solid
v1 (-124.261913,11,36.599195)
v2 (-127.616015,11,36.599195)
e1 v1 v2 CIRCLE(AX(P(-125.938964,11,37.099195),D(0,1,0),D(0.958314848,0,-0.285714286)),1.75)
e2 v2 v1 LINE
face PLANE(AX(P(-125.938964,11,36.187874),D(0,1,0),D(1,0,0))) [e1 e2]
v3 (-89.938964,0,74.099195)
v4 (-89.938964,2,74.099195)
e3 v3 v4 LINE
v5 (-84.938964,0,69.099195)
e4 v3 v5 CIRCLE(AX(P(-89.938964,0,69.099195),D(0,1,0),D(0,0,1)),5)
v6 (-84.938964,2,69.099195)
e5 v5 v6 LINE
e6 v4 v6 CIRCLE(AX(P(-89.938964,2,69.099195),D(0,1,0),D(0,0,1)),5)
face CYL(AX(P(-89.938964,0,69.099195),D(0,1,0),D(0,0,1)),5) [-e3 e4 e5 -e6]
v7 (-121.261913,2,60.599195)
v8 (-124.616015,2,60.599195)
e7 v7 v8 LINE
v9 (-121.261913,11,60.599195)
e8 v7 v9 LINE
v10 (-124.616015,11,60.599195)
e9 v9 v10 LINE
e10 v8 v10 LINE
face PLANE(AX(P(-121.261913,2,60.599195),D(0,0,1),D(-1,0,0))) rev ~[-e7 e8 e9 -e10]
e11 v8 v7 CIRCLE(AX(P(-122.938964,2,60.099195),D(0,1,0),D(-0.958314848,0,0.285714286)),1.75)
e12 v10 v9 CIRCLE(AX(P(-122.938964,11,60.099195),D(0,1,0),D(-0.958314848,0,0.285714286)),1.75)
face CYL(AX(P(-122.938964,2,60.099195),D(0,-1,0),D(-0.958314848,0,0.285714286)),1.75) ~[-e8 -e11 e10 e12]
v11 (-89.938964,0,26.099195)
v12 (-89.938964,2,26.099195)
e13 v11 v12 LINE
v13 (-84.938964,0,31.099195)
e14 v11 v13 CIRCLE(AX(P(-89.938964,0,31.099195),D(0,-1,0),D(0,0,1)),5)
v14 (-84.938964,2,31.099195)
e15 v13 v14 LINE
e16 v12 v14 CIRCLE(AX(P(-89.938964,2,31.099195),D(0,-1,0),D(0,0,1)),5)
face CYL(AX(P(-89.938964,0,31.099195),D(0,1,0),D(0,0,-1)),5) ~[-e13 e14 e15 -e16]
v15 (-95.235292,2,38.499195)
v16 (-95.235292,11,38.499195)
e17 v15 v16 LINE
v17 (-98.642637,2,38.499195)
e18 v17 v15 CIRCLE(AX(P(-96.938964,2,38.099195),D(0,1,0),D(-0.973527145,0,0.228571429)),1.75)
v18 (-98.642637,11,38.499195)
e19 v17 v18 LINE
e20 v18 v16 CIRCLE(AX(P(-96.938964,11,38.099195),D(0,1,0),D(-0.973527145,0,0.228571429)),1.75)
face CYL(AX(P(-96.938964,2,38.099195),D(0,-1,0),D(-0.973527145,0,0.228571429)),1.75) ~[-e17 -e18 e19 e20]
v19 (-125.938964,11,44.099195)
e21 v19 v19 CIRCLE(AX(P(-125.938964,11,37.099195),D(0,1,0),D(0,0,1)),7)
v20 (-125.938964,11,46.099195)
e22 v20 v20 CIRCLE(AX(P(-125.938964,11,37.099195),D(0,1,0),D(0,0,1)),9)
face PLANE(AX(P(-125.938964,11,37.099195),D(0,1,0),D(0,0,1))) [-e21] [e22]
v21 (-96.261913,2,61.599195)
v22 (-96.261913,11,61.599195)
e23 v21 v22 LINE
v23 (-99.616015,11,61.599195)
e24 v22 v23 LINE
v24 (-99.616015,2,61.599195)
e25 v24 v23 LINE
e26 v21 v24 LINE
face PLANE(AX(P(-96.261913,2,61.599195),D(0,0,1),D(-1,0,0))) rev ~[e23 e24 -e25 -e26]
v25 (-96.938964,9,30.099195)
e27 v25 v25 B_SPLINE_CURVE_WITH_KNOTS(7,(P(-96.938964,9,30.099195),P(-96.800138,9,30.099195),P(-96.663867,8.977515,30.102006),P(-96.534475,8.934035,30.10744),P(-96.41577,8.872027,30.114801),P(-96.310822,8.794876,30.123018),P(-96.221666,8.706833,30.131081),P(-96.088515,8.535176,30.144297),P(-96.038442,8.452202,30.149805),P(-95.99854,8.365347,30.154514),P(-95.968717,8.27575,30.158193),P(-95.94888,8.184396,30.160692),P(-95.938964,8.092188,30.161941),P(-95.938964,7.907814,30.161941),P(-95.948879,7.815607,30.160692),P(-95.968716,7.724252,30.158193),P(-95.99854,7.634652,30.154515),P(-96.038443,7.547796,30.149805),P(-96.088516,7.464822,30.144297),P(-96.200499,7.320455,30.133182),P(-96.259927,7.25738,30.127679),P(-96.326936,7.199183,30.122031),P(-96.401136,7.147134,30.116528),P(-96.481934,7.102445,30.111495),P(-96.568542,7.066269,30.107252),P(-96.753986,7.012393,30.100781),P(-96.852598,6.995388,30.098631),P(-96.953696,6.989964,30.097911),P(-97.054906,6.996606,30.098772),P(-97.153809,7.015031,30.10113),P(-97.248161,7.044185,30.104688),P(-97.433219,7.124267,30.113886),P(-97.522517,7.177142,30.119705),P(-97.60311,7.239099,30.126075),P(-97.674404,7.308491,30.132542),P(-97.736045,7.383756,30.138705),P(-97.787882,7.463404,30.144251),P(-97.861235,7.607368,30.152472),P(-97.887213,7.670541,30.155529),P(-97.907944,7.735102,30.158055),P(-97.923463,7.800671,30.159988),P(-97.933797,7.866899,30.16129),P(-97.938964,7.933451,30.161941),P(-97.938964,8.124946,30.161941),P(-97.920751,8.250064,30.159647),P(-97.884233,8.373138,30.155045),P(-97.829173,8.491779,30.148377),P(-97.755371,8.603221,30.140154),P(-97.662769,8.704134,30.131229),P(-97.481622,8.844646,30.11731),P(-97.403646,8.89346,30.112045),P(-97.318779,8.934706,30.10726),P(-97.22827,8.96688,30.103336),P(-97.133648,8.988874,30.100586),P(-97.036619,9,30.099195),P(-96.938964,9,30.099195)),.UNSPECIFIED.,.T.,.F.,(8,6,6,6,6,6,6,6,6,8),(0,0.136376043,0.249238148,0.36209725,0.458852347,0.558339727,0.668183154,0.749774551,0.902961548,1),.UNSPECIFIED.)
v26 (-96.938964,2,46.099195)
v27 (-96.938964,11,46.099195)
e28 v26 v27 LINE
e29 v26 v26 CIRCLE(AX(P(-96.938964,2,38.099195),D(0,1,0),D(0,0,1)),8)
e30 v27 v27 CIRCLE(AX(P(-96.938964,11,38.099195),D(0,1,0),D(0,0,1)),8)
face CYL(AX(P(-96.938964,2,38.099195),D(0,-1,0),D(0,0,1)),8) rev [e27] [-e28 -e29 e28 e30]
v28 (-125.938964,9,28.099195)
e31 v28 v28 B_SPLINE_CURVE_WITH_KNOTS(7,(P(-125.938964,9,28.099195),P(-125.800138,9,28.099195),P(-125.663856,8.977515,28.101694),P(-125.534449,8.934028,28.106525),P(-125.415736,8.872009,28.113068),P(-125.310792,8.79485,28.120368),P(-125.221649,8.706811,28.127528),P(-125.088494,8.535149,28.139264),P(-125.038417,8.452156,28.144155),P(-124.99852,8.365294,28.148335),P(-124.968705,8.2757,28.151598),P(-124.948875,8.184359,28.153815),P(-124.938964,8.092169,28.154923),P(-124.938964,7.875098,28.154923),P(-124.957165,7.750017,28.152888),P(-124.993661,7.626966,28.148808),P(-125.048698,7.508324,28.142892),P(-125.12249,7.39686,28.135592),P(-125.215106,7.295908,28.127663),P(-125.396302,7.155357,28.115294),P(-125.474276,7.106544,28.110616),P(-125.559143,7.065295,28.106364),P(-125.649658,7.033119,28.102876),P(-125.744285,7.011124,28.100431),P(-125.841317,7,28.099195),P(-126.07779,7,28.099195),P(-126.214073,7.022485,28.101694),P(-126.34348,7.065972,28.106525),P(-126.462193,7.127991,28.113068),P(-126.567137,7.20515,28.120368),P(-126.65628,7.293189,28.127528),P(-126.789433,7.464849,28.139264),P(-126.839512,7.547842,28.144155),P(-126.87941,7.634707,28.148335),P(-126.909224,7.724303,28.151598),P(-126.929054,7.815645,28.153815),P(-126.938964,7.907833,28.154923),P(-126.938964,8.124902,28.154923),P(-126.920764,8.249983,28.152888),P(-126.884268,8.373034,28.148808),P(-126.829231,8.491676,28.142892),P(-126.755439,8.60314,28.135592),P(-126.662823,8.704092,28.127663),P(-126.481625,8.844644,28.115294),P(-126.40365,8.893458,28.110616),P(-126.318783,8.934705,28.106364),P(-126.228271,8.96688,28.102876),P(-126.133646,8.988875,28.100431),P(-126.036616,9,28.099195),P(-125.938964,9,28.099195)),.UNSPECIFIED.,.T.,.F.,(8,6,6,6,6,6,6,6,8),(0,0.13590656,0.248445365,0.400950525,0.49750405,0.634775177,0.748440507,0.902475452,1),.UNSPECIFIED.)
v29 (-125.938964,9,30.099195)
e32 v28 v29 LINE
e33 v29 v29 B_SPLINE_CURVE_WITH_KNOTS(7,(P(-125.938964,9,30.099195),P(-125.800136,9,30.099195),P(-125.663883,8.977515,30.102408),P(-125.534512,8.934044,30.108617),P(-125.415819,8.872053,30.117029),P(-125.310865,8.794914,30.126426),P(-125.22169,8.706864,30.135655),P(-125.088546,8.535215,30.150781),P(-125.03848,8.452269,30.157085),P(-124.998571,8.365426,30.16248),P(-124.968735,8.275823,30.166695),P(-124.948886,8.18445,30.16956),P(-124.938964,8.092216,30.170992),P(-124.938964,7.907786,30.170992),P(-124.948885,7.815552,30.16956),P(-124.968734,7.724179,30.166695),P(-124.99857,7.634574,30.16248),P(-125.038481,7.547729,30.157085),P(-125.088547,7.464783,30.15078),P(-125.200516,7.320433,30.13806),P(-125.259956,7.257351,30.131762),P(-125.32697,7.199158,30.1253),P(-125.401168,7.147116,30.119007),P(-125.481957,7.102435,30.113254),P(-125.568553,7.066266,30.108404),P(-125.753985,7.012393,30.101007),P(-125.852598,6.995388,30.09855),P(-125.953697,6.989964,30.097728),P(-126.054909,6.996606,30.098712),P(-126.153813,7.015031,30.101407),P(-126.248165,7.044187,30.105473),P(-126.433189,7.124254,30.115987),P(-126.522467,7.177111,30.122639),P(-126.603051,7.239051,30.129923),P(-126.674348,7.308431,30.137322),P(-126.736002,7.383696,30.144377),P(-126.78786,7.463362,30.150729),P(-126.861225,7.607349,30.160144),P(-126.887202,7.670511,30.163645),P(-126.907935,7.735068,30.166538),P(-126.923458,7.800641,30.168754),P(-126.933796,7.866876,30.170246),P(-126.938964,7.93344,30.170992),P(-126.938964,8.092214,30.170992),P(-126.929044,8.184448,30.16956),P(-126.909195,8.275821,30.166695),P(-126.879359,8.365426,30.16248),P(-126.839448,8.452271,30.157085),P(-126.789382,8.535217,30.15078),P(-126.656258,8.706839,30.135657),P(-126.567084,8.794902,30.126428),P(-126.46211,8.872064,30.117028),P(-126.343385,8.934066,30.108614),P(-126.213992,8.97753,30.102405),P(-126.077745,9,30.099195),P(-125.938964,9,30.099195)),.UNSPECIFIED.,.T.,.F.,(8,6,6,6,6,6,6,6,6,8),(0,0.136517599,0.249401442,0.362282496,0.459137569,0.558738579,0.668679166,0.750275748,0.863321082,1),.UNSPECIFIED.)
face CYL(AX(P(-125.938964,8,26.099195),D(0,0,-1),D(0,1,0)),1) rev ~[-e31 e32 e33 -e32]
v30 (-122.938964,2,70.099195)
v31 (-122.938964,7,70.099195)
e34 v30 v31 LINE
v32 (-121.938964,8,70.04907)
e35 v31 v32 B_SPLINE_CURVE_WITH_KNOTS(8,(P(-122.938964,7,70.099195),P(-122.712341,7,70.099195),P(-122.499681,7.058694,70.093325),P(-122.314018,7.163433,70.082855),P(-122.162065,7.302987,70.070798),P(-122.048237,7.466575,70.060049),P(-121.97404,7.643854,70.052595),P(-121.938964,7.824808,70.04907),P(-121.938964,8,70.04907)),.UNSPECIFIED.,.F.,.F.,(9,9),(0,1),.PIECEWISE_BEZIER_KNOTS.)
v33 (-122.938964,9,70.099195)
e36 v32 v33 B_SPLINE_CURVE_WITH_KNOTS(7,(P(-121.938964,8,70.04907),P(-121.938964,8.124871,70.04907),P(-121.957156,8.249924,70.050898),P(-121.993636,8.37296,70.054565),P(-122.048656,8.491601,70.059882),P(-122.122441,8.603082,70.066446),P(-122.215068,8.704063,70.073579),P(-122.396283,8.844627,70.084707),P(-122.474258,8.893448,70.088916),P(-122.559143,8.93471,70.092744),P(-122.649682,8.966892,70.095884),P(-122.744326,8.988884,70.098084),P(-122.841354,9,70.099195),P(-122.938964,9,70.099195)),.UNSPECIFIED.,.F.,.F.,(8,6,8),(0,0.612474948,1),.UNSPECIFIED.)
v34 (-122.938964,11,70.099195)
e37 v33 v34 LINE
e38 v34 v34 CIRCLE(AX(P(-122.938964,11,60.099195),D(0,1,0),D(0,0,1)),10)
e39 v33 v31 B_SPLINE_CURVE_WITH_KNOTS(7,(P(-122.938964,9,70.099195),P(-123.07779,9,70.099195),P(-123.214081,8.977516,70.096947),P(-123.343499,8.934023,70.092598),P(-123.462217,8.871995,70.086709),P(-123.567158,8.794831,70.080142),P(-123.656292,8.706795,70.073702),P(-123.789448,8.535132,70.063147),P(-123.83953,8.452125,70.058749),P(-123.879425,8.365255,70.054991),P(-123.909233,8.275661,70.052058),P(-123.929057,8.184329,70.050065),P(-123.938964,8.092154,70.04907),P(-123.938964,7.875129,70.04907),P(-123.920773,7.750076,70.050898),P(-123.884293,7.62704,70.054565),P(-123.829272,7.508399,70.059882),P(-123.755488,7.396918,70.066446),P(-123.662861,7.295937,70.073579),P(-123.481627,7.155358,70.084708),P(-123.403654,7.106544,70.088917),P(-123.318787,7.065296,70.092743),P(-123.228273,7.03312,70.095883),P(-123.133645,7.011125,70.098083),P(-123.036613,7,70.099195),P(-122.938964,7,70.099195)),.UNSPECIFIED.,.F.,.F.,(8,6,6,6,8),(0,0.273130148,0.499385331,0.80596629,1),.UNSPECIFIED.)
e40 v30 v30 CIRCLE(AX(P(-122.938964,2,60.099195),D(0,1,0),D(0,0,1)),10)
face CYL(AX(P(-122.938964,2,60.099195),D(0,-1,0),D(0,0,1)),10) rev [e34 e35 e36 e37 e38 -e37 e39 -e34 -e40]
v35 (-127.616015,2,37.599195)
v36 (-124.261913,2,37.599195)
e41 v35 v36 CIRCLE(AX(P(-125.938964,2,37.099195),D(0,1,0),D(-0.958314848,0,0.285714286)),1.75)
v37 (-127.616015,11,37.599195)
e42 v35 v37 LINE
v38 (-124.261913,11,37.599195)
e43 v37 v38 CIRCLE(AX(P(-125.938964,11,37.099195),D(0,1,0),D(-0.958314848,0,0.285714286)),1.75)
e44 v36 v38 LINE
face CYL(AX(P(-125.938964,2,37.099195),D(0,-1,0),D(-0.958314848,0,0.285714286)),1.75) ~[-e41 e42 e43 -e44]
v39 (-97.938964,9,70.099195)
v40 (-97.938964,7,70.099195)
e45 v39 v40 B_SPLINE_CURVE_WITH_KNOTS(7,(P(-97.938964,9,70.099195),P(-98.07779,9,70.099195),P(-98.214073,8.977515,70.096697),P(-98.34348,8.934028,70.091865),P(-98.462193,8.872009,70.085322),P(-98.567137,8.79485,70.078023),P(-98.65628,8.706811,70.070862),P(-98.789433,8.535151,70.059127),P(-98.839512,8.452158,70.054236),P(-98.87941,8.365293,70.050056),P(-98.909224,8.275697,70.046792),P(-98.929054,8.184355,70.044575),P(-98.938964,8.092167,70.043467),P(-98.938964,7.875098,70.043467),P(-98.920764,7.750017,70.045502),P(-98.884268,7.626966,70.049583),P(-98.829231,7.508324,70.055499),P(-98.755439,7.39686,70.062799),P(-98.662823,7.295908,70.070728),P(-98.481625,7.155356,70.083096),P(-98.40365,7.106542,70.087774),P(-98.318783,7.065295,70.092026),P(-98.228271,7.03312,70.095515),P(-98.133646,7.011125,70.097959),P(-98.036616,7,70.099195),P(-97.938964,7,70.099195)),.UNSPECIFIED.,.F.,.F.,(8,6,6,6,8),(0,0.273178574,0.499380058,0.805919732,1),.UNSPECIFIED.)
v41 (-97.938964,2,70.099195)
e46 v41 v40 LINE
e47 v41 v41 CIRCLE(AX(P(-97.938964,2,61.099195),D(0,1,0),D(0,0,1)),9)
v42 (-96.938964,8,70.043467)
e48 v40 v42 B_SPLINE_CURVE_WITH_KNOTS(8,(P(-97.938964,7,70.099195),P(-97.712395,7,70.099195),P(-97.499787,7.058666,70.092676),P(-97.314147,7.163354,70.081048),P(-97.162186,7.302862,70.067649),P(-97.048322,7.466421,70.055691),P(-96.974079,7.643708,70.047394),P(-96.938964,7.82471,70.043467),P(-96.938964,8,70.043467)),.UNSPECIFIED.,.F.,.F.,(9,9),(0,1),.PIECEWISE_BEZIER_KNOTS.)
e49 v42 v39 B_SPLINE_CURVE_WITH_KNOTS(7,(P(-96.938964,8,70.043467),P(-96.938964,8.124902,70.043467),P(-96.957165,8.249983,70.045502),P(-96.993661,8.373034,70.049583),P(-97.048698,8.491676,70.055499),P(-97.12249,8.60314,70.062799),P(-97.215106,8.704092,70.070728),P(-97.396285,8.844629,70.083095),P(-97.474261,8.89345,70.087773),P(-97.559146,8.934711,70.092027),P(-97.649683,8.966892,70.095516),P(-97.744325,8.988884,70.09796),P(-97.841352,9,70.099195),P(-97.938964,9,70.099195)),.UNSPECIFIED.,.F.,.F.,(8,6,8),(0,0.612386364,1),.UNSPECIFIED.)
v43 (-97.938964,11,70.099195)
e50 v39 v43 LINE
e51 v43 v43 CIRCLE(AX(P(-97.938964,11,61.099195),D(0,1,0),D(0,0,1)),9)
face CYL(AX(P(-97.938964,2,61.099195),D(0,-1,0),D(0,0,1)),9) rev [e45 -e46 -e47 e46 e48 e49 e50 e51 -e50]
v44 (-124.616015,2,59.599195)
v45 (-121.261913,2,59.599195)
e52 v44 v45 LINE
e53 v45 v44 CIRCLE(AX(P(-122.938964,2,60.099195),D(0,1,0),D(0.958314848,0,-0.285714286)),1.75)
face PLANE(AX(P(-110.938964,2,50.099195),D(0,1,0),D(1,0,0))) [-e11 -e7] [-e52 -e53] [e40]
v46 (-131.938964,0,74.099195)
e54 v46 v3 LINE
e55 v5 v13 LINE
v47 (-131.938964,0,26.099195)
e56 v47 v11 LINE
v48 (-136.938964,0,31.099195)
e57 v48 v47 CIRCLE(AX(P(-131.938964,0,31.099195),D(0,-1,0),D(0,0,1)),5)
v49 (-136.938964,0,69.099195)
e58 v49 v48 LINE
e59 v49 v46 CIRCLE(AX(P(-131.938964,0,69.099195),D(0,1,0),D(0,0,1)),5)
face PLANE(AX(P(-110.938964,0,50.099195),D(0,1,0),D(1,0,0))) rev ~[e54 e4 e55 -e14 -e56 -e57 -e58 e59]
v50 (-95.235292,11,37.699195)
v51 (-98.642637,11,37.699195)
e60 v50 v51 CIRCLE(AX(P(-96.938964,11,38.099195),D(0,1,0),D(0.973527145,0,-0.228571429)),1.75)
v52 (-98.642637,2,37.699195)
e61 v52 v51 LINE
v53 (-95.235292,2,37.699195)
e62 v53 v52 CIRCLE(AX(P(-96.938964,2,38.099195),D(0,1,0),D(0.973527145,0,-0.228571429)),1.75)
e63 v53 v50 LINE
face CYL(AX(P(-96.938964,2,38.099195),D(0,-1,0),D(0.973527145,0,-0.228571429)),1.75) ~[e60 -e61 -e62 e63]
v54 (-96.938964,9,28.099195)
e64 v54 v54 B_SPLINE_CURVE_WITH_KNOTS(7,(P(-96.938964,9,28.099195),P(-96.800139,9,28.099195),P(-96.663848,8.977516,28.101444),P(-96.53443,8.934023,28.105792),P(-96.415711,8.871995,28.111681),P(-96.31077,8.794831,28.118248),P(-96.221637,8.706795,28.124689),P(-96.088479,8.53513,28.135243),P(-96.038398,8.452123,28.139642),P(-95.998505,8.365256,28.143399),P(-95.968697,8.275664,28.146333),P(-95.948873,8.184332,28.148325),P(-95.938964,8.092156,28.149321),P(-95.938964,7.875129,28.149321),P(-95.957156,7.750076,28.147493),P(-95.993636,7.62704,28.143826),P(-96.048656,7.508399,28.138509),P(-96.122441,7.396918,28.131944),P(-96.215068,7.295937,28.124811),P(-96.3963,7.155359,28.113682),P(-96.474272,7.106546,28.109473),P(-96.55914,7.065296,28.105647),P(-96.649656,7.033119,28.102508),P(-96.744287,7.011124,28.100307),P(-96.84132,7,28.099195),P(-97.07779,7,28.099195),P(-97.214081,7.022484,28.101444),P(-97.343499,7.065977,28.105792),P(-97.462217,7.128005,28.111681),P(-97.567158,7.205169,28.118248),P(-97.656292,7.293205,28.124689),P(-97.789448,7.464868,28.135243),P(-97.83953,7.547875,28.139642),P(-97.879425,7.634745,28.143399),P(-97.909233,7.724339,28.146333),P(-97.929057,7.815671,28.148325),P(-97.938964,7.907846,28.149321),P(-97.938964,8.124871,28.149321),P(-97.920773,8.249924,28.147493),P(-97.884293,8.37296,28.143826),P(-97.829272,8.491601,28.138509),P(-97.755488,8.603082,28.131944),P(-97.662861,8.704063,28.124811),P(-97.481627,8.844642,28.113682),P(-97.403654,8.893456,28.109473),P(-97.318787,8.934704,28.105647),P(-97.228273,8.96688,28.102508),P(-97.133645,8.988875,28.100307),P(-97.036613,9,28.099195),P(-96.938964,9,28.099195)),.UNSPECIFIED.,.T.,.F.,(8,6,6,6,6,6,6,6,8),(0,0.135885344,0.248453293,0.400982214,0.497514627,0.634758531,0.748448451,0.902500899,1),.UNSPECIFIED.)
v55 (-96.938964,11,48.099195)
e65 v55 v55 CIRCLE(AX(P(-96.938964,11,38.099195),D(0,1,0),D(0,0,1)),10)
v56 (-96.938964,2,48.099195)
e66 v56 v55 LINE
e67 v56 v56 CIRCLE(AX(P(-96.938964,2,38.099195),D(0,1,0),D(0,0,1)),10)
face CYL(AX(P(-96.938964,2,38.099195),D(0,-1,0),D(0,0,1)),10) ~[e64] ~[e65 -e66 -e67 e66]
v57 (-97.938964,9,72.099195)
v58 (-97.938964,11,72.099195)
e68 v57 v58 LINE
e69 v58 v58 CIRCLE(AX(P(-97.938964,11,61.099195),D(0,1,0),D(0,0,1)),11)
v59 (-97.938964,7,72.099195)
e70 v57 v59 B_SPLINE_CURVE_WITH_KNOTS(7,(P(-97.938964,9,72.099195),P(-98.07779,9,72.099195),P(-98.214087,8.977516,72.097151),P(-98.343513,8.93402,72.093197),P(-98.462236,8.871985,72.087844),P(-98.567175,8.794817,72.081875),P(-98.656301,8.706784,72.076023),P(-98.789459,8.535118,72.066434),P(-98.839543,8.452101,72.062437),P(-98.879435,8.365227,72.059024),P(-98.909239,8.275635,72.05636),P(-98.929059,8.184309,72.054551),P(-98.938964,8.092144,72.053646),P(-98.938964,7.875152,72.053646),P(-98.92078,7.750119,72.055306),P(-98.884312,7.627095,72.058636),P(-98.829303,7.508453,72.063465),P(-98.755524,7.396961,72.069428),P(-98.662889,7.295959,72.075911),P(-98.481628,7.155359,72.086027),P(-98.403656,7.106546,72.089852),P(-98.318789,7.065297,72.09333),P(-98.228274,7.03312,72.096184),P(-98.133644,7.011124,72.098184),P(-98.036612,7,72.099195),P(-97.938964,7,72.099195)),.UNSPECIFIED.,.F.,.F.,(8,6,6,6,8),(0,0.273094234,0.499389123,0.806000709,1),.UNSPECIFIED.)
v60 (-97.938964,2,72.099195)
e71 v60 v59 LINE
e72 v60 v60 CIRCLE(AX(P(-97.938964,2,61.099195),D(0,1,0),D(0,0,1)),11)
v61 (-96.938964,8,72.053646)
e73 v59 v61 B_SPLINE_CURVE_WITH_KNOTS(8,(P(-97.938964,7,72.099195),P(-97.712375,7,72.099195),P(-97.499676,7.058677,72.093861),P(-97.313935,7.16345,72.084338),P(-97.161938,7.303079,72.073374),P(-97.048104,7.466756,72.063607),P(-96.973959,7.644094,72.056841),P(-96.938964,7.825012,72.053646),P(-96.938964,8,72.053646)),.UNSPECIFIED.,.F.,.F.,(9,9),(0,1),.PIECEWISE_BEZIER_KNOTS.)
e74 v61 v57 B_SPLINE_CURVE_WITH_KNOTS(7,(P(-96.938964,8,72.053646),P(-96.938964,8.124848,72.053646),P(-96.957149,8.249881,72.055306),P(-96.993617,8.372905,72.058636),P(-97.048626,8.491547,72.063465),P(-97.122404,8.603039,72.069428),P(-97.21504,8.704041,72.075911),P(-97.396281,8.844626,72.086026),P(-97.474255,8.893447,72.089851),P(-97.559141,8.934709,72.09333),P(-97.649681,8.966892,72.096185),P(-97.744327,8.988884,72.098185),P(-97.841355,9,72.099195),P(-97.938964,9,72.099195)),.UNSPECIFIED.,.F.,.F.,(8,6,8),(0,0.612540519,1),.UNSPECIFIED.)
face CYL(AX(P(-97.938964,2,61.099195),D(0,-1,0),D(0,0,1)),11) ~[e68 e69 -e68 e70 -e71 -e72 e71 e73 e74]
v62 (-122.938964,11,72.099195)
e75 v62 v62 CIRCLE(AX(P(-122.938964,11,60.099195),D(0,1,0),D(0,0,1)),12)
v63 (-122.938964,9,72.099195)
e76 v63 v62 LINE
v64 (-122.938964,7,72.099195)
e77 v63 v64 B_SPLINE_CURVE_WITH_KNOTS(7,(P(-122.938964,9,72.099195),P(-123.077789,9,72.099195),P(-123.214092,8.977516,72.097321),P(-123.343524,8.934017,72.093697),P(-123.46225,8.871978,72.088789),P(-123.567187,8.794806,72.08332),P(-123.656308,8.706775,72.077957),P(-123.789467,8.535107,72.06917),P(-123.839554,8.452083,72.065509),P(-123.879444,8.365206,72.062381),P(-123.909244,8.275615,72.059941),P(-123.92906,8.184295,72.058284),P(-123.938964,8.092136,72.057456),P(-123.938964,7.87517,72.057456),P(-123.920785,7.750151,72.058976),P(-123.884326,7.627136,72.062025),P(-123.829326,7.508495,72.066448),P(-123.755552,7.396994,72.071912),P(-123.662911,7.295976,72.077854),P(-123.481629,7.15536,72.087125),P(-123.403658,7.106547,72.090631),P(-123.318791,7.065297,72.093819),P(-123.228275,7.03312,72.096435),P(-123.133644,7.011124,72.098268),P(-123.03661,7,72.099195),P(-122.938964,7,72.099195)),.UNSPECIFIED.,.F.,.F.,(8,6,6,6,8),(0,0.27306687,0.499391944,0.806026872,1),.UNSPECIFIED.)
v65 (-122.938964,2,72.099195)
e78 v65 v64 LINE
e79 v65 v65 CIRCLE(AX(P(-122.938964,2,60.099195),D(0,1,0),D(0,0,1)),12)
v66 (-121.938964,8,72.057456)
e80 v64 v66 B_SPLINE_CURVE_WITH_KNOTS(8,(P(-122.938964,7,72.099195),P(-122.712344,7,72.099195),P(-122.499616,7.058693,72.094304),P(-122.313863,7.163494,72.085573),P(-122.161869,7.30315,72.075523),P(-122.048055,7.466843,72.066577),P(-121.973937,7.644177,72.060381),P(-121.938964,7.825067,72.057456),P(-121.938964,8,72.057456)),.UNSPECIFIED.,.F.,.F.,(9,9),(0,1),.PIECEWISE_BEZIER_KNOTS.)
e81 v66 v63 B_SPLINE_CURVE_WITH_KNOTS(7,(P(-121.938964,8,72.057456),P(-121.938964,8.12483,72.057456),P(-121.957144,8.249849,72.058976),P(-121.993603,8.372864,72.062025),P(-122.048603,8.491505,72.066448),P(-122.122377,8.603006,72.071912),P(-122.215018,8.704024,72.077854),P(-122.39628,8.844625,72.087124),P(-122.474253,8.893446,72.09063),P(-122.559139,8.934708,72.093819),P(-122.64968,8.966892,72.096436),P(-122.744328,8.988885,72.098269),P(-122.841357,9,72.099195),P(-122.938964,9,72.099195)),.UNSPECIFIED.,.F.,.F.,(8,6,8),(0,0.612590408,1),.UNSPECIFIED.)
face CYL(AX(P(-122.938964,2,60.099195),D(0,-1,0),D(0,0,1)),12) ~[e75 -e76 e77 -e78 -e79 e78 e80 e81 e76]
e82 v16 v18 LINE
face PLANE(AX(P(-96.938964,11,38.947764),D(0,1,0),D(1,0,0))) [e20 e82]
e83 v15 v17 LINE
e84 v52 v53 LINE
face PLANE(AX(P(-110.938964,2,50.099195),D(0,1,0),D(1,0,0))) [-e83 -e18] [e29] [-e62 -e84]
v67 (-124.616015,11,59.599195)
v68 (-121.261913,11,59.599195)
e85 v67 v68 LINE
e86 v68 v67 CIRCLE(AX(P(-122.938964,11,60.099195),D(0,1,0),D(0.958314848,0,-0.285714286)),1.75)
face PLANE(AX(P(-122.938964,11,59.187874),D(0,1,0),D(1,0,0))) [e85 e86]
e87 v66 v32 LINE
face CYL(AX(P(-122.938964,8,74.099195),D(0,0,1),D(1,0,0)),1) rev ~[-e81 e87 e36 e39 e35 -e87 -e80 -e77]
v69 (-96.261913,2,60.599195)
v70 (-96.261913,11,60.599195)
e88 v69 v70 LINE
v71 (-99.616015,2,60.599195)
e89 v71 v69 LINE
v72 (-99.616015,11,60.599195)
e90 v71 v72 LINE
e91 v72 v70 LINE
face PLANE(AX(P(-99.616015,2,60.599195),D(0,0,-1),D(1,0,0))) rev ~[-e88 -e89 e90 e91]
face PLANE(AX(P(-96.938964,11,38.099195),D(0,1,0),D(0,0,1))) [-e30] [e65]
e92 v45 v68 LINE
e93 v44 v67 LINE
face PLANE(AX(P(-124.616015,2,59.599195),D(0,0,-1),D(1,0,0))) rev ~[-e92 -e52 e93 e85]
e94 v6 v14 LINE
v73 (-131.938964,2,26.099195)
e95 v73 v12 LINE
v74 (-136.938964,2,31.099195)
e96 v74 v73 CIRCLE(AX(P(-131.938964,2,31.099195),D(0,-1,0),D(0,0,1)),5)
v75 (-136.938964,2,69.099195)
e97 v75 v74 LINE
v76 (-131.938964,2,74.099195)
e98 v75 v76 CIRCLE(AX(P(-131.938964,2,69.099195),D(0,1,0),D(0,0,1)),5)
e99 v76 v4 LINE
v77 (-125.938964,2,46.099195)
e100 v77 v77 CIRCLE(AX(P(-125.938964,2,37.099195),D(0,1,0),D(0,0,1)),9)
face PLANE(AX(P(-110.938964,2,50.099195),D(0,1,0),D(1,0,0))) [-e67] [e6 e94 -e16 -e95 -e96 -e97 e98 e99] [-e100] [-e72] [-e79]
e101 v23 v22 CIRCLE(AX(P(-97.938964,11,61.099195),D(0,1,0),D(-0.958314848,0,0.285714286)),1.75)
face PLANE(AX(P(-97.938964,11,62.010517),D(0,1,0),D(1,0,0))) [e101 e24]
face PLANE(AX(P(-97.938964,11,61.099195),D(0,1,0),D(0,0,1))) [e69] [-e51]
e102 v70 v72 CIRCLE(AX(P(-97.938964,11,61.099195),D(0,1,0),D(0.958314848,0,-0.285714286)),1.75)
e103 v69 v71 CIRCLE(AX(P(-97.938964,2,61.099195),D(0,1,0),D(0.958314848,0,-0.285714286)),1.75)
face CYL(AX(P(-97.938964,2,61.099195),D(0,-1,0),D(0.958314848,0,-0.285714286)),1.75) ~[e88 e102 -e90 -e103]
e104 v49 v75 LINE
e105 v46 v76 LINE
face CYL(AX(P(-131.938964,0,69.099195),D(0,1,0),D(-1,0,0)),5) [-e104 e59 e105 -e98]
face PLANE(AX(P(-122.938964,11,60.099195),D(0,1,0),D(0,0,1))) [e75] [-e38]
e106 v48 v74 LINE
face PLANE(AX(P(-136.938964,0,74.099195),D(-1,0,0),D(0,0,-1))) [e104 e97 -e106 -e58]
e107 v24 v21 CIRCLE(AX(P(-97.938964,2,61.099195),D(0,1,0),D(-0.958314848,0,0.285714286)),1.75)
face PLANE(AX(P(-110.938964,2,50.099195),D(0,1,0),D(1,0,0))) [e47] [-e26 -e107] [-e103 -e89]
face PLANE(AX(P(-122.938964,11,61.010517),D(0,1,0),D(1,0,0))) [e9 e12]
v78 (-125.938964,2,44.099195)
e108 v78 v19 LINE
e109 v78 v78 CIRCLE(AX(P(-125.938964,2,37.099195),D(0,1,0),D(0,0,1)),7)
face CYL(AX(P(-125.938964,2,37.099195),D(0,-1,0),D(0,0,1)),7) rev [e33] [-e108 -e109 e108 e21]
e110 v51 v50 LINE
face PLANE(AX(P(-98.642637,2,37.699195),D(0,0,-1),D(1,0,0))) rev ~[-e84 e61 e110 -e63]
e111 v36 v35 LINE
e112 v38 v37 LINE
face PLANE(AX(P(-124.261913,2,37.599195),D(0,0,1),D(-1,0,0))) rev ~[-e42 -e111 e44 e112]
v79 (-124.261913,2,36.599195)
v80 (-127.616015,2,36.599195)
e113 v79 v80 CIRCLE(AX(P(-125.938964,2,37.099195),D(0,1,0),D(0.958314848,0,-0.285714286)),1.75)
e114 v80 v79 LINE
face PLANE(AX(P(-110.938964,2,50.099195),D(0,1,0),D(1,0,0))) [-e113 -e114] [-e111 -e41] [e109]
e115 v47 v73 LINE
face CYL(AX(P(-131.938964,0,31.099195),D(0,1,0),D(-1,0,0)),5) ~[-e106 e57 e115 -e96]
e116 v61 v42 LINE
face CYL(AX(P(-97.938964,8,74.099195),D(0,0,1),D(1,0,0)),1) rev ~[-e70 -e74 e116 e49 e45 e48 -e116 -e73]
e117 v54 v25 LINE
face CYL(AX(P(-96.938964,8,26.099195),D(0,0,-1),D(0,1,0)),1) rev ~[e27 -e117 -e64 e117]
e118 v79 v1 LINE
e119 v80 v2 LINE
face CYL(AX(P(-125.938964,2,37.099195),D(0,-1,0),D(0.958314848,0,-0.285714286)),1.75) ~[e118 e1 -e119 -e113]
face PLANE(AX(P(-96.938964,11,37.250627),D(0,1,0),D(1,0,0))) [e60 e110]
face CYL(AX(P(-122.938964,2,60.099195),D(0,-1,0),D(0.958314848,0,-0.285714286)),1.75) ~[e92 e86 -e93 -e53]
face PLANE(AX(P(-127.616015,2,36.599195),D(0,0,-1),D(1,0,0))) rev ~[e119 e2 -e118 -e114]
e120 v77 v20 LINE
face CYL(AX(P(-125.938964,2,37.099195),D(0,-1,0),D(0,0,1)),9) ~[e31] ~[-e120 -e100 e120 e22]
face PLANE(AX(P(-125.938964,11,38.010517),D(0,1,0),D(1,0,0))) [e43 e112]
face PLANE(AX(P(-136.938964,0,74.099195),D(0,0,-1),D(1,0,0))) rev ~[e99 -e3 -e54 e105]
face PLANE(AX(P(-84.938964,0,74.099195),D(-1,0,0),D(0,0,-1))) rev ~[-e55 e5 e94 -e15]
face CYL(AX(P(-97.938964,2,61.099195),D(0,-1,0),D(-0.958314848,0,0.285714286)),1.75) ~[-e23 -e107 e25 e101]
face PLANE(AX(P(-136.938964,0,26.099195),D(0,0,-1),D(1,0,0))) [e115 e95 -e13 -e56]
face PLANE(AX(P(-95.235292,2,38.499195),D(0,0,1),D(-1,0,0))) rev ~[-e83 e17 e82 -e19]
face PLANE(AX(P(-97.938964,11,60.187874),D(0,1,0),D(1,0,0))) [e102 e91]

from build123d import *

# Parameters (mm, degrees)
SKETCH1_W           = 52
SKETCH1_H           = 48
BOSS_EXTRUDE3_DEPTH = 2
SKETCH4_R           = 9
SKETCH4_R_2         = 7
SKETCH4_R_3         = 10
SKETCH4_R_4         = 8
SKETCH4_R_5         = 11
SKETCH4_R_6         = 12
BOSS_EXTRUDE4_DEPTH = 9
BOSS_EXTRUDE5_DEPTH = 9
SKETCH6_R           = 1
CUT_EXTRUDE2_DEPTH  = 6
SKETCH7_R           = 1
CUT_EXTRUDE3_DEPTH  = 6
FILLET1_R           = 5


with BuildPart() as part:
    # Sketch1 → Boss-Extrude3 (new body)
    with BuildSketch(Plane(origin=(0, 0, 0), x_dir=(1, 0, 0), z_dir=(0, 1, 0))):
        with Locations((-110.938964427, -50.099195195)):
            Rectangle(SKETCH1_W, SKETCH1_H)
    extrude(amount=BOSS_EXTRUDE3_DEPTH)

    # Sketch4 → Boss-Extrude4 (add)
    # profile 1 of 4: a face of its own
    with BuildSketch(Plane(origin=(0, 2, 0), x_dir=(1, 0, 0), z_dir=(0, 1, 0))):
        with Locations(Location((-125.938964427, -37.099195195, 0), (0, 0, 270))):
            Circle(SKETCH4_R)
        with Locations(Location((-125.938964427, -37.099195195, 0), (0, 0, 270))):
            Circle(SKETCH4_R_2, mode=Mode.SUBTRACT)
    # profile 2 of 4: a face of its own
    with BuildSketch(Plane(origin=(0, 2, 0), x_dir=(1, 0, 0), z_dir=(0, 1, 0))):
        with Locations(Location((-96.938964427, -38.099195195, 0), (0, 0, 270))):
            Circle(SKETCH4_R_3)
        with Locations(Location((-96.938964427, -38.099195195, 0), (0, 0, 270))):
            Circle(SKETCH4_R_4, mode=Mode.SUBTRACT)
    # profile 3 of 4: a face of its own
    with BuildSketch(Plane(origin=(0, 2, 0), x_dir=(1, 0, 0), z_dir=(0, 1, 0))):
        with Locations(Location((-97.938964427, -61.099195195, 0), (0, 0, 270))):
            Circle(SKETCH4_R_5)
        with Locations(Location((-97.938964427, -61.099195195, 0), (0, 0, 270))):
            Circle(SKETCH4_R, mode=Mode.SUBTRACT)
    # profile 4 of 4: a face of its own
    with BuildSketch(Plane(origin=(0, 2, 0), x_dir=(1, 0, 0), z_dir=(0, 1, 0))):
        with Locations(Location((-122.938964427, -60.099195195, 0), (0, 0, 270))):
            Circle(SKETCH4_R_6)
        with Locations(Location((-122.938964427, -60.099195195, 0), (0, 0, 270))):
            Circle(SKETCH4_R_3, mode=Mode.SUBTRACT)
    extrude(amount=BOSS_EXTRUDE4_DEPTH)

    # Sketch5 → Boss-Extrude5 (add)
    with BuildSketch(Plane(origin=(0, 2, 0), x_dir=(1, 0, 0), z_dir=(0, 1, 0))):
        with BuildLine():
            Line((-124.61601541, -59.599195195), (-122.938964427, -59.599195195))
            Line((-122.938964427, -59.599195195), (-121.261913444, -59.599195195))
            ThreePointArc((-121.261913444, -59.599195195), (-122.938964427, -58.349195195), (-124.61601541, -59.599195195))
        make_face()
        with BuildLine():
            Line((-121.261913444, -60.599195195), (-124.61601541, -60.599195195))
            ThreePointArc((-124.61601541, -60.599195195), (-122.938964427, -61.849195195), (-121.261913444, -60.599195195))
        make_face()
        with BuildLine():
            Line((-99.61601541, -60.599195195), (-97.938964427, -60.599195195))
            Line((-97.938964427, -60.599195195), (-96.261913444, -60.599195195))
            ThreePointArc((-96.261913444, -60.599195195), (-97.938964427, -59.349195195), (-99.61601541, -60.599195195))
        make_face()
        with BuildLine():
            Line((-96.261913444, -61.599195195), (-99.61601541, -61.599195195))
            ThreePointArc((-99.61601541, -61.599195195), (-97.938964427, -62.849195195), (-96.261913444, -61.599195195))
        make_face()
        with BuildLine():
            Line((-98.642636931, -37.699195195), (-96.938964427, -37.699195195))
            Line((-96.938964427, -37.699195195), (-95.235291923, -37.699195195))
            ThreePointArc((-95.235291923, -37.699195195), (-96.938964427, -36.349195195), (-98.642636931, -37.699195195))
        make_face()
        with BuildLine():
            Line((-95.235291923, -38.499195195), (-98.642636931, -38.499195195))
            ThreePointArc((-98.642636931, -38.499195195), (-96.938964427, -39.849195195), (-95.235291923, -38.499195195))
        make_face()
        with BuildLine():
            Line((-127.61601541, -36.599195195), (-125.938964427, -36.599195195))
            Line((-125.938964427, -36.599195195), (-124.261913444, -36.599195195))
            ThreePointArc((-124.261913444, -36.599195195), (-125.938964427, -35.349195195), (-127.61601541, -36.599195195))
        make_face()
        with BuildLine():
            Line((-124.261913444, -37.599195195), (-127.61601541, -37.599195195))
            ThreePointArc((-127.61601541, -37.599195195), (-125.938964427, -38.849195195), (-124.261913444, -37.599195195))
        make_face()
    extrude(amount=BOSS_EXTRUDE5_DEPTH)

    # Sketch6 → Cut-Extrude2 (cut)
    with BuildSketch(Plane.XY.offset(74.099195195)):
        with Locations((-97.938964427, 8)):
            Circle(SKETCH6_R)
        with Locations((-122.938964427, 8)):
            Circle(SKETCH6_R)
    extrude(amount=-CUT_EXTRUDE2_DEPTH, mode=Mode.SUBTRACT)

    # Sketch7 → Cut-Extrude3 (cut)
    with BuildSketch(Plane(origin=(0, 0, 26.099195195), x_dir=(-1, 0, 0), z_dir=(0, 0, -1))):
        with Locations(Location((96.938964427, 8, 0), (0, 0, 90))):
            Circle(SKETCH7_R)
        with Locations(Location((125.938964427, 8, 0), (0, 0, 90))):
            Circle(SKETCH7_R)
    extrude(amount=-CUT_EXTRUDE3_DEPTH, mode=Mode.SUBTRACT)

    # Fillet1
    fillet1_edges = [part.edges().sort_by_distance(p)[0] for p in [
        (-136.938964427, 1, 26.099195195),
        (-84.938964427, 1, 26.099195195),
        (-84.938964427, 1, 74.099195195),
        (-136.938964427, 1, 74.099195195),
    ]]
    fillet(fillet1_edges, radius=FILLET1_R)


solid = part.part
